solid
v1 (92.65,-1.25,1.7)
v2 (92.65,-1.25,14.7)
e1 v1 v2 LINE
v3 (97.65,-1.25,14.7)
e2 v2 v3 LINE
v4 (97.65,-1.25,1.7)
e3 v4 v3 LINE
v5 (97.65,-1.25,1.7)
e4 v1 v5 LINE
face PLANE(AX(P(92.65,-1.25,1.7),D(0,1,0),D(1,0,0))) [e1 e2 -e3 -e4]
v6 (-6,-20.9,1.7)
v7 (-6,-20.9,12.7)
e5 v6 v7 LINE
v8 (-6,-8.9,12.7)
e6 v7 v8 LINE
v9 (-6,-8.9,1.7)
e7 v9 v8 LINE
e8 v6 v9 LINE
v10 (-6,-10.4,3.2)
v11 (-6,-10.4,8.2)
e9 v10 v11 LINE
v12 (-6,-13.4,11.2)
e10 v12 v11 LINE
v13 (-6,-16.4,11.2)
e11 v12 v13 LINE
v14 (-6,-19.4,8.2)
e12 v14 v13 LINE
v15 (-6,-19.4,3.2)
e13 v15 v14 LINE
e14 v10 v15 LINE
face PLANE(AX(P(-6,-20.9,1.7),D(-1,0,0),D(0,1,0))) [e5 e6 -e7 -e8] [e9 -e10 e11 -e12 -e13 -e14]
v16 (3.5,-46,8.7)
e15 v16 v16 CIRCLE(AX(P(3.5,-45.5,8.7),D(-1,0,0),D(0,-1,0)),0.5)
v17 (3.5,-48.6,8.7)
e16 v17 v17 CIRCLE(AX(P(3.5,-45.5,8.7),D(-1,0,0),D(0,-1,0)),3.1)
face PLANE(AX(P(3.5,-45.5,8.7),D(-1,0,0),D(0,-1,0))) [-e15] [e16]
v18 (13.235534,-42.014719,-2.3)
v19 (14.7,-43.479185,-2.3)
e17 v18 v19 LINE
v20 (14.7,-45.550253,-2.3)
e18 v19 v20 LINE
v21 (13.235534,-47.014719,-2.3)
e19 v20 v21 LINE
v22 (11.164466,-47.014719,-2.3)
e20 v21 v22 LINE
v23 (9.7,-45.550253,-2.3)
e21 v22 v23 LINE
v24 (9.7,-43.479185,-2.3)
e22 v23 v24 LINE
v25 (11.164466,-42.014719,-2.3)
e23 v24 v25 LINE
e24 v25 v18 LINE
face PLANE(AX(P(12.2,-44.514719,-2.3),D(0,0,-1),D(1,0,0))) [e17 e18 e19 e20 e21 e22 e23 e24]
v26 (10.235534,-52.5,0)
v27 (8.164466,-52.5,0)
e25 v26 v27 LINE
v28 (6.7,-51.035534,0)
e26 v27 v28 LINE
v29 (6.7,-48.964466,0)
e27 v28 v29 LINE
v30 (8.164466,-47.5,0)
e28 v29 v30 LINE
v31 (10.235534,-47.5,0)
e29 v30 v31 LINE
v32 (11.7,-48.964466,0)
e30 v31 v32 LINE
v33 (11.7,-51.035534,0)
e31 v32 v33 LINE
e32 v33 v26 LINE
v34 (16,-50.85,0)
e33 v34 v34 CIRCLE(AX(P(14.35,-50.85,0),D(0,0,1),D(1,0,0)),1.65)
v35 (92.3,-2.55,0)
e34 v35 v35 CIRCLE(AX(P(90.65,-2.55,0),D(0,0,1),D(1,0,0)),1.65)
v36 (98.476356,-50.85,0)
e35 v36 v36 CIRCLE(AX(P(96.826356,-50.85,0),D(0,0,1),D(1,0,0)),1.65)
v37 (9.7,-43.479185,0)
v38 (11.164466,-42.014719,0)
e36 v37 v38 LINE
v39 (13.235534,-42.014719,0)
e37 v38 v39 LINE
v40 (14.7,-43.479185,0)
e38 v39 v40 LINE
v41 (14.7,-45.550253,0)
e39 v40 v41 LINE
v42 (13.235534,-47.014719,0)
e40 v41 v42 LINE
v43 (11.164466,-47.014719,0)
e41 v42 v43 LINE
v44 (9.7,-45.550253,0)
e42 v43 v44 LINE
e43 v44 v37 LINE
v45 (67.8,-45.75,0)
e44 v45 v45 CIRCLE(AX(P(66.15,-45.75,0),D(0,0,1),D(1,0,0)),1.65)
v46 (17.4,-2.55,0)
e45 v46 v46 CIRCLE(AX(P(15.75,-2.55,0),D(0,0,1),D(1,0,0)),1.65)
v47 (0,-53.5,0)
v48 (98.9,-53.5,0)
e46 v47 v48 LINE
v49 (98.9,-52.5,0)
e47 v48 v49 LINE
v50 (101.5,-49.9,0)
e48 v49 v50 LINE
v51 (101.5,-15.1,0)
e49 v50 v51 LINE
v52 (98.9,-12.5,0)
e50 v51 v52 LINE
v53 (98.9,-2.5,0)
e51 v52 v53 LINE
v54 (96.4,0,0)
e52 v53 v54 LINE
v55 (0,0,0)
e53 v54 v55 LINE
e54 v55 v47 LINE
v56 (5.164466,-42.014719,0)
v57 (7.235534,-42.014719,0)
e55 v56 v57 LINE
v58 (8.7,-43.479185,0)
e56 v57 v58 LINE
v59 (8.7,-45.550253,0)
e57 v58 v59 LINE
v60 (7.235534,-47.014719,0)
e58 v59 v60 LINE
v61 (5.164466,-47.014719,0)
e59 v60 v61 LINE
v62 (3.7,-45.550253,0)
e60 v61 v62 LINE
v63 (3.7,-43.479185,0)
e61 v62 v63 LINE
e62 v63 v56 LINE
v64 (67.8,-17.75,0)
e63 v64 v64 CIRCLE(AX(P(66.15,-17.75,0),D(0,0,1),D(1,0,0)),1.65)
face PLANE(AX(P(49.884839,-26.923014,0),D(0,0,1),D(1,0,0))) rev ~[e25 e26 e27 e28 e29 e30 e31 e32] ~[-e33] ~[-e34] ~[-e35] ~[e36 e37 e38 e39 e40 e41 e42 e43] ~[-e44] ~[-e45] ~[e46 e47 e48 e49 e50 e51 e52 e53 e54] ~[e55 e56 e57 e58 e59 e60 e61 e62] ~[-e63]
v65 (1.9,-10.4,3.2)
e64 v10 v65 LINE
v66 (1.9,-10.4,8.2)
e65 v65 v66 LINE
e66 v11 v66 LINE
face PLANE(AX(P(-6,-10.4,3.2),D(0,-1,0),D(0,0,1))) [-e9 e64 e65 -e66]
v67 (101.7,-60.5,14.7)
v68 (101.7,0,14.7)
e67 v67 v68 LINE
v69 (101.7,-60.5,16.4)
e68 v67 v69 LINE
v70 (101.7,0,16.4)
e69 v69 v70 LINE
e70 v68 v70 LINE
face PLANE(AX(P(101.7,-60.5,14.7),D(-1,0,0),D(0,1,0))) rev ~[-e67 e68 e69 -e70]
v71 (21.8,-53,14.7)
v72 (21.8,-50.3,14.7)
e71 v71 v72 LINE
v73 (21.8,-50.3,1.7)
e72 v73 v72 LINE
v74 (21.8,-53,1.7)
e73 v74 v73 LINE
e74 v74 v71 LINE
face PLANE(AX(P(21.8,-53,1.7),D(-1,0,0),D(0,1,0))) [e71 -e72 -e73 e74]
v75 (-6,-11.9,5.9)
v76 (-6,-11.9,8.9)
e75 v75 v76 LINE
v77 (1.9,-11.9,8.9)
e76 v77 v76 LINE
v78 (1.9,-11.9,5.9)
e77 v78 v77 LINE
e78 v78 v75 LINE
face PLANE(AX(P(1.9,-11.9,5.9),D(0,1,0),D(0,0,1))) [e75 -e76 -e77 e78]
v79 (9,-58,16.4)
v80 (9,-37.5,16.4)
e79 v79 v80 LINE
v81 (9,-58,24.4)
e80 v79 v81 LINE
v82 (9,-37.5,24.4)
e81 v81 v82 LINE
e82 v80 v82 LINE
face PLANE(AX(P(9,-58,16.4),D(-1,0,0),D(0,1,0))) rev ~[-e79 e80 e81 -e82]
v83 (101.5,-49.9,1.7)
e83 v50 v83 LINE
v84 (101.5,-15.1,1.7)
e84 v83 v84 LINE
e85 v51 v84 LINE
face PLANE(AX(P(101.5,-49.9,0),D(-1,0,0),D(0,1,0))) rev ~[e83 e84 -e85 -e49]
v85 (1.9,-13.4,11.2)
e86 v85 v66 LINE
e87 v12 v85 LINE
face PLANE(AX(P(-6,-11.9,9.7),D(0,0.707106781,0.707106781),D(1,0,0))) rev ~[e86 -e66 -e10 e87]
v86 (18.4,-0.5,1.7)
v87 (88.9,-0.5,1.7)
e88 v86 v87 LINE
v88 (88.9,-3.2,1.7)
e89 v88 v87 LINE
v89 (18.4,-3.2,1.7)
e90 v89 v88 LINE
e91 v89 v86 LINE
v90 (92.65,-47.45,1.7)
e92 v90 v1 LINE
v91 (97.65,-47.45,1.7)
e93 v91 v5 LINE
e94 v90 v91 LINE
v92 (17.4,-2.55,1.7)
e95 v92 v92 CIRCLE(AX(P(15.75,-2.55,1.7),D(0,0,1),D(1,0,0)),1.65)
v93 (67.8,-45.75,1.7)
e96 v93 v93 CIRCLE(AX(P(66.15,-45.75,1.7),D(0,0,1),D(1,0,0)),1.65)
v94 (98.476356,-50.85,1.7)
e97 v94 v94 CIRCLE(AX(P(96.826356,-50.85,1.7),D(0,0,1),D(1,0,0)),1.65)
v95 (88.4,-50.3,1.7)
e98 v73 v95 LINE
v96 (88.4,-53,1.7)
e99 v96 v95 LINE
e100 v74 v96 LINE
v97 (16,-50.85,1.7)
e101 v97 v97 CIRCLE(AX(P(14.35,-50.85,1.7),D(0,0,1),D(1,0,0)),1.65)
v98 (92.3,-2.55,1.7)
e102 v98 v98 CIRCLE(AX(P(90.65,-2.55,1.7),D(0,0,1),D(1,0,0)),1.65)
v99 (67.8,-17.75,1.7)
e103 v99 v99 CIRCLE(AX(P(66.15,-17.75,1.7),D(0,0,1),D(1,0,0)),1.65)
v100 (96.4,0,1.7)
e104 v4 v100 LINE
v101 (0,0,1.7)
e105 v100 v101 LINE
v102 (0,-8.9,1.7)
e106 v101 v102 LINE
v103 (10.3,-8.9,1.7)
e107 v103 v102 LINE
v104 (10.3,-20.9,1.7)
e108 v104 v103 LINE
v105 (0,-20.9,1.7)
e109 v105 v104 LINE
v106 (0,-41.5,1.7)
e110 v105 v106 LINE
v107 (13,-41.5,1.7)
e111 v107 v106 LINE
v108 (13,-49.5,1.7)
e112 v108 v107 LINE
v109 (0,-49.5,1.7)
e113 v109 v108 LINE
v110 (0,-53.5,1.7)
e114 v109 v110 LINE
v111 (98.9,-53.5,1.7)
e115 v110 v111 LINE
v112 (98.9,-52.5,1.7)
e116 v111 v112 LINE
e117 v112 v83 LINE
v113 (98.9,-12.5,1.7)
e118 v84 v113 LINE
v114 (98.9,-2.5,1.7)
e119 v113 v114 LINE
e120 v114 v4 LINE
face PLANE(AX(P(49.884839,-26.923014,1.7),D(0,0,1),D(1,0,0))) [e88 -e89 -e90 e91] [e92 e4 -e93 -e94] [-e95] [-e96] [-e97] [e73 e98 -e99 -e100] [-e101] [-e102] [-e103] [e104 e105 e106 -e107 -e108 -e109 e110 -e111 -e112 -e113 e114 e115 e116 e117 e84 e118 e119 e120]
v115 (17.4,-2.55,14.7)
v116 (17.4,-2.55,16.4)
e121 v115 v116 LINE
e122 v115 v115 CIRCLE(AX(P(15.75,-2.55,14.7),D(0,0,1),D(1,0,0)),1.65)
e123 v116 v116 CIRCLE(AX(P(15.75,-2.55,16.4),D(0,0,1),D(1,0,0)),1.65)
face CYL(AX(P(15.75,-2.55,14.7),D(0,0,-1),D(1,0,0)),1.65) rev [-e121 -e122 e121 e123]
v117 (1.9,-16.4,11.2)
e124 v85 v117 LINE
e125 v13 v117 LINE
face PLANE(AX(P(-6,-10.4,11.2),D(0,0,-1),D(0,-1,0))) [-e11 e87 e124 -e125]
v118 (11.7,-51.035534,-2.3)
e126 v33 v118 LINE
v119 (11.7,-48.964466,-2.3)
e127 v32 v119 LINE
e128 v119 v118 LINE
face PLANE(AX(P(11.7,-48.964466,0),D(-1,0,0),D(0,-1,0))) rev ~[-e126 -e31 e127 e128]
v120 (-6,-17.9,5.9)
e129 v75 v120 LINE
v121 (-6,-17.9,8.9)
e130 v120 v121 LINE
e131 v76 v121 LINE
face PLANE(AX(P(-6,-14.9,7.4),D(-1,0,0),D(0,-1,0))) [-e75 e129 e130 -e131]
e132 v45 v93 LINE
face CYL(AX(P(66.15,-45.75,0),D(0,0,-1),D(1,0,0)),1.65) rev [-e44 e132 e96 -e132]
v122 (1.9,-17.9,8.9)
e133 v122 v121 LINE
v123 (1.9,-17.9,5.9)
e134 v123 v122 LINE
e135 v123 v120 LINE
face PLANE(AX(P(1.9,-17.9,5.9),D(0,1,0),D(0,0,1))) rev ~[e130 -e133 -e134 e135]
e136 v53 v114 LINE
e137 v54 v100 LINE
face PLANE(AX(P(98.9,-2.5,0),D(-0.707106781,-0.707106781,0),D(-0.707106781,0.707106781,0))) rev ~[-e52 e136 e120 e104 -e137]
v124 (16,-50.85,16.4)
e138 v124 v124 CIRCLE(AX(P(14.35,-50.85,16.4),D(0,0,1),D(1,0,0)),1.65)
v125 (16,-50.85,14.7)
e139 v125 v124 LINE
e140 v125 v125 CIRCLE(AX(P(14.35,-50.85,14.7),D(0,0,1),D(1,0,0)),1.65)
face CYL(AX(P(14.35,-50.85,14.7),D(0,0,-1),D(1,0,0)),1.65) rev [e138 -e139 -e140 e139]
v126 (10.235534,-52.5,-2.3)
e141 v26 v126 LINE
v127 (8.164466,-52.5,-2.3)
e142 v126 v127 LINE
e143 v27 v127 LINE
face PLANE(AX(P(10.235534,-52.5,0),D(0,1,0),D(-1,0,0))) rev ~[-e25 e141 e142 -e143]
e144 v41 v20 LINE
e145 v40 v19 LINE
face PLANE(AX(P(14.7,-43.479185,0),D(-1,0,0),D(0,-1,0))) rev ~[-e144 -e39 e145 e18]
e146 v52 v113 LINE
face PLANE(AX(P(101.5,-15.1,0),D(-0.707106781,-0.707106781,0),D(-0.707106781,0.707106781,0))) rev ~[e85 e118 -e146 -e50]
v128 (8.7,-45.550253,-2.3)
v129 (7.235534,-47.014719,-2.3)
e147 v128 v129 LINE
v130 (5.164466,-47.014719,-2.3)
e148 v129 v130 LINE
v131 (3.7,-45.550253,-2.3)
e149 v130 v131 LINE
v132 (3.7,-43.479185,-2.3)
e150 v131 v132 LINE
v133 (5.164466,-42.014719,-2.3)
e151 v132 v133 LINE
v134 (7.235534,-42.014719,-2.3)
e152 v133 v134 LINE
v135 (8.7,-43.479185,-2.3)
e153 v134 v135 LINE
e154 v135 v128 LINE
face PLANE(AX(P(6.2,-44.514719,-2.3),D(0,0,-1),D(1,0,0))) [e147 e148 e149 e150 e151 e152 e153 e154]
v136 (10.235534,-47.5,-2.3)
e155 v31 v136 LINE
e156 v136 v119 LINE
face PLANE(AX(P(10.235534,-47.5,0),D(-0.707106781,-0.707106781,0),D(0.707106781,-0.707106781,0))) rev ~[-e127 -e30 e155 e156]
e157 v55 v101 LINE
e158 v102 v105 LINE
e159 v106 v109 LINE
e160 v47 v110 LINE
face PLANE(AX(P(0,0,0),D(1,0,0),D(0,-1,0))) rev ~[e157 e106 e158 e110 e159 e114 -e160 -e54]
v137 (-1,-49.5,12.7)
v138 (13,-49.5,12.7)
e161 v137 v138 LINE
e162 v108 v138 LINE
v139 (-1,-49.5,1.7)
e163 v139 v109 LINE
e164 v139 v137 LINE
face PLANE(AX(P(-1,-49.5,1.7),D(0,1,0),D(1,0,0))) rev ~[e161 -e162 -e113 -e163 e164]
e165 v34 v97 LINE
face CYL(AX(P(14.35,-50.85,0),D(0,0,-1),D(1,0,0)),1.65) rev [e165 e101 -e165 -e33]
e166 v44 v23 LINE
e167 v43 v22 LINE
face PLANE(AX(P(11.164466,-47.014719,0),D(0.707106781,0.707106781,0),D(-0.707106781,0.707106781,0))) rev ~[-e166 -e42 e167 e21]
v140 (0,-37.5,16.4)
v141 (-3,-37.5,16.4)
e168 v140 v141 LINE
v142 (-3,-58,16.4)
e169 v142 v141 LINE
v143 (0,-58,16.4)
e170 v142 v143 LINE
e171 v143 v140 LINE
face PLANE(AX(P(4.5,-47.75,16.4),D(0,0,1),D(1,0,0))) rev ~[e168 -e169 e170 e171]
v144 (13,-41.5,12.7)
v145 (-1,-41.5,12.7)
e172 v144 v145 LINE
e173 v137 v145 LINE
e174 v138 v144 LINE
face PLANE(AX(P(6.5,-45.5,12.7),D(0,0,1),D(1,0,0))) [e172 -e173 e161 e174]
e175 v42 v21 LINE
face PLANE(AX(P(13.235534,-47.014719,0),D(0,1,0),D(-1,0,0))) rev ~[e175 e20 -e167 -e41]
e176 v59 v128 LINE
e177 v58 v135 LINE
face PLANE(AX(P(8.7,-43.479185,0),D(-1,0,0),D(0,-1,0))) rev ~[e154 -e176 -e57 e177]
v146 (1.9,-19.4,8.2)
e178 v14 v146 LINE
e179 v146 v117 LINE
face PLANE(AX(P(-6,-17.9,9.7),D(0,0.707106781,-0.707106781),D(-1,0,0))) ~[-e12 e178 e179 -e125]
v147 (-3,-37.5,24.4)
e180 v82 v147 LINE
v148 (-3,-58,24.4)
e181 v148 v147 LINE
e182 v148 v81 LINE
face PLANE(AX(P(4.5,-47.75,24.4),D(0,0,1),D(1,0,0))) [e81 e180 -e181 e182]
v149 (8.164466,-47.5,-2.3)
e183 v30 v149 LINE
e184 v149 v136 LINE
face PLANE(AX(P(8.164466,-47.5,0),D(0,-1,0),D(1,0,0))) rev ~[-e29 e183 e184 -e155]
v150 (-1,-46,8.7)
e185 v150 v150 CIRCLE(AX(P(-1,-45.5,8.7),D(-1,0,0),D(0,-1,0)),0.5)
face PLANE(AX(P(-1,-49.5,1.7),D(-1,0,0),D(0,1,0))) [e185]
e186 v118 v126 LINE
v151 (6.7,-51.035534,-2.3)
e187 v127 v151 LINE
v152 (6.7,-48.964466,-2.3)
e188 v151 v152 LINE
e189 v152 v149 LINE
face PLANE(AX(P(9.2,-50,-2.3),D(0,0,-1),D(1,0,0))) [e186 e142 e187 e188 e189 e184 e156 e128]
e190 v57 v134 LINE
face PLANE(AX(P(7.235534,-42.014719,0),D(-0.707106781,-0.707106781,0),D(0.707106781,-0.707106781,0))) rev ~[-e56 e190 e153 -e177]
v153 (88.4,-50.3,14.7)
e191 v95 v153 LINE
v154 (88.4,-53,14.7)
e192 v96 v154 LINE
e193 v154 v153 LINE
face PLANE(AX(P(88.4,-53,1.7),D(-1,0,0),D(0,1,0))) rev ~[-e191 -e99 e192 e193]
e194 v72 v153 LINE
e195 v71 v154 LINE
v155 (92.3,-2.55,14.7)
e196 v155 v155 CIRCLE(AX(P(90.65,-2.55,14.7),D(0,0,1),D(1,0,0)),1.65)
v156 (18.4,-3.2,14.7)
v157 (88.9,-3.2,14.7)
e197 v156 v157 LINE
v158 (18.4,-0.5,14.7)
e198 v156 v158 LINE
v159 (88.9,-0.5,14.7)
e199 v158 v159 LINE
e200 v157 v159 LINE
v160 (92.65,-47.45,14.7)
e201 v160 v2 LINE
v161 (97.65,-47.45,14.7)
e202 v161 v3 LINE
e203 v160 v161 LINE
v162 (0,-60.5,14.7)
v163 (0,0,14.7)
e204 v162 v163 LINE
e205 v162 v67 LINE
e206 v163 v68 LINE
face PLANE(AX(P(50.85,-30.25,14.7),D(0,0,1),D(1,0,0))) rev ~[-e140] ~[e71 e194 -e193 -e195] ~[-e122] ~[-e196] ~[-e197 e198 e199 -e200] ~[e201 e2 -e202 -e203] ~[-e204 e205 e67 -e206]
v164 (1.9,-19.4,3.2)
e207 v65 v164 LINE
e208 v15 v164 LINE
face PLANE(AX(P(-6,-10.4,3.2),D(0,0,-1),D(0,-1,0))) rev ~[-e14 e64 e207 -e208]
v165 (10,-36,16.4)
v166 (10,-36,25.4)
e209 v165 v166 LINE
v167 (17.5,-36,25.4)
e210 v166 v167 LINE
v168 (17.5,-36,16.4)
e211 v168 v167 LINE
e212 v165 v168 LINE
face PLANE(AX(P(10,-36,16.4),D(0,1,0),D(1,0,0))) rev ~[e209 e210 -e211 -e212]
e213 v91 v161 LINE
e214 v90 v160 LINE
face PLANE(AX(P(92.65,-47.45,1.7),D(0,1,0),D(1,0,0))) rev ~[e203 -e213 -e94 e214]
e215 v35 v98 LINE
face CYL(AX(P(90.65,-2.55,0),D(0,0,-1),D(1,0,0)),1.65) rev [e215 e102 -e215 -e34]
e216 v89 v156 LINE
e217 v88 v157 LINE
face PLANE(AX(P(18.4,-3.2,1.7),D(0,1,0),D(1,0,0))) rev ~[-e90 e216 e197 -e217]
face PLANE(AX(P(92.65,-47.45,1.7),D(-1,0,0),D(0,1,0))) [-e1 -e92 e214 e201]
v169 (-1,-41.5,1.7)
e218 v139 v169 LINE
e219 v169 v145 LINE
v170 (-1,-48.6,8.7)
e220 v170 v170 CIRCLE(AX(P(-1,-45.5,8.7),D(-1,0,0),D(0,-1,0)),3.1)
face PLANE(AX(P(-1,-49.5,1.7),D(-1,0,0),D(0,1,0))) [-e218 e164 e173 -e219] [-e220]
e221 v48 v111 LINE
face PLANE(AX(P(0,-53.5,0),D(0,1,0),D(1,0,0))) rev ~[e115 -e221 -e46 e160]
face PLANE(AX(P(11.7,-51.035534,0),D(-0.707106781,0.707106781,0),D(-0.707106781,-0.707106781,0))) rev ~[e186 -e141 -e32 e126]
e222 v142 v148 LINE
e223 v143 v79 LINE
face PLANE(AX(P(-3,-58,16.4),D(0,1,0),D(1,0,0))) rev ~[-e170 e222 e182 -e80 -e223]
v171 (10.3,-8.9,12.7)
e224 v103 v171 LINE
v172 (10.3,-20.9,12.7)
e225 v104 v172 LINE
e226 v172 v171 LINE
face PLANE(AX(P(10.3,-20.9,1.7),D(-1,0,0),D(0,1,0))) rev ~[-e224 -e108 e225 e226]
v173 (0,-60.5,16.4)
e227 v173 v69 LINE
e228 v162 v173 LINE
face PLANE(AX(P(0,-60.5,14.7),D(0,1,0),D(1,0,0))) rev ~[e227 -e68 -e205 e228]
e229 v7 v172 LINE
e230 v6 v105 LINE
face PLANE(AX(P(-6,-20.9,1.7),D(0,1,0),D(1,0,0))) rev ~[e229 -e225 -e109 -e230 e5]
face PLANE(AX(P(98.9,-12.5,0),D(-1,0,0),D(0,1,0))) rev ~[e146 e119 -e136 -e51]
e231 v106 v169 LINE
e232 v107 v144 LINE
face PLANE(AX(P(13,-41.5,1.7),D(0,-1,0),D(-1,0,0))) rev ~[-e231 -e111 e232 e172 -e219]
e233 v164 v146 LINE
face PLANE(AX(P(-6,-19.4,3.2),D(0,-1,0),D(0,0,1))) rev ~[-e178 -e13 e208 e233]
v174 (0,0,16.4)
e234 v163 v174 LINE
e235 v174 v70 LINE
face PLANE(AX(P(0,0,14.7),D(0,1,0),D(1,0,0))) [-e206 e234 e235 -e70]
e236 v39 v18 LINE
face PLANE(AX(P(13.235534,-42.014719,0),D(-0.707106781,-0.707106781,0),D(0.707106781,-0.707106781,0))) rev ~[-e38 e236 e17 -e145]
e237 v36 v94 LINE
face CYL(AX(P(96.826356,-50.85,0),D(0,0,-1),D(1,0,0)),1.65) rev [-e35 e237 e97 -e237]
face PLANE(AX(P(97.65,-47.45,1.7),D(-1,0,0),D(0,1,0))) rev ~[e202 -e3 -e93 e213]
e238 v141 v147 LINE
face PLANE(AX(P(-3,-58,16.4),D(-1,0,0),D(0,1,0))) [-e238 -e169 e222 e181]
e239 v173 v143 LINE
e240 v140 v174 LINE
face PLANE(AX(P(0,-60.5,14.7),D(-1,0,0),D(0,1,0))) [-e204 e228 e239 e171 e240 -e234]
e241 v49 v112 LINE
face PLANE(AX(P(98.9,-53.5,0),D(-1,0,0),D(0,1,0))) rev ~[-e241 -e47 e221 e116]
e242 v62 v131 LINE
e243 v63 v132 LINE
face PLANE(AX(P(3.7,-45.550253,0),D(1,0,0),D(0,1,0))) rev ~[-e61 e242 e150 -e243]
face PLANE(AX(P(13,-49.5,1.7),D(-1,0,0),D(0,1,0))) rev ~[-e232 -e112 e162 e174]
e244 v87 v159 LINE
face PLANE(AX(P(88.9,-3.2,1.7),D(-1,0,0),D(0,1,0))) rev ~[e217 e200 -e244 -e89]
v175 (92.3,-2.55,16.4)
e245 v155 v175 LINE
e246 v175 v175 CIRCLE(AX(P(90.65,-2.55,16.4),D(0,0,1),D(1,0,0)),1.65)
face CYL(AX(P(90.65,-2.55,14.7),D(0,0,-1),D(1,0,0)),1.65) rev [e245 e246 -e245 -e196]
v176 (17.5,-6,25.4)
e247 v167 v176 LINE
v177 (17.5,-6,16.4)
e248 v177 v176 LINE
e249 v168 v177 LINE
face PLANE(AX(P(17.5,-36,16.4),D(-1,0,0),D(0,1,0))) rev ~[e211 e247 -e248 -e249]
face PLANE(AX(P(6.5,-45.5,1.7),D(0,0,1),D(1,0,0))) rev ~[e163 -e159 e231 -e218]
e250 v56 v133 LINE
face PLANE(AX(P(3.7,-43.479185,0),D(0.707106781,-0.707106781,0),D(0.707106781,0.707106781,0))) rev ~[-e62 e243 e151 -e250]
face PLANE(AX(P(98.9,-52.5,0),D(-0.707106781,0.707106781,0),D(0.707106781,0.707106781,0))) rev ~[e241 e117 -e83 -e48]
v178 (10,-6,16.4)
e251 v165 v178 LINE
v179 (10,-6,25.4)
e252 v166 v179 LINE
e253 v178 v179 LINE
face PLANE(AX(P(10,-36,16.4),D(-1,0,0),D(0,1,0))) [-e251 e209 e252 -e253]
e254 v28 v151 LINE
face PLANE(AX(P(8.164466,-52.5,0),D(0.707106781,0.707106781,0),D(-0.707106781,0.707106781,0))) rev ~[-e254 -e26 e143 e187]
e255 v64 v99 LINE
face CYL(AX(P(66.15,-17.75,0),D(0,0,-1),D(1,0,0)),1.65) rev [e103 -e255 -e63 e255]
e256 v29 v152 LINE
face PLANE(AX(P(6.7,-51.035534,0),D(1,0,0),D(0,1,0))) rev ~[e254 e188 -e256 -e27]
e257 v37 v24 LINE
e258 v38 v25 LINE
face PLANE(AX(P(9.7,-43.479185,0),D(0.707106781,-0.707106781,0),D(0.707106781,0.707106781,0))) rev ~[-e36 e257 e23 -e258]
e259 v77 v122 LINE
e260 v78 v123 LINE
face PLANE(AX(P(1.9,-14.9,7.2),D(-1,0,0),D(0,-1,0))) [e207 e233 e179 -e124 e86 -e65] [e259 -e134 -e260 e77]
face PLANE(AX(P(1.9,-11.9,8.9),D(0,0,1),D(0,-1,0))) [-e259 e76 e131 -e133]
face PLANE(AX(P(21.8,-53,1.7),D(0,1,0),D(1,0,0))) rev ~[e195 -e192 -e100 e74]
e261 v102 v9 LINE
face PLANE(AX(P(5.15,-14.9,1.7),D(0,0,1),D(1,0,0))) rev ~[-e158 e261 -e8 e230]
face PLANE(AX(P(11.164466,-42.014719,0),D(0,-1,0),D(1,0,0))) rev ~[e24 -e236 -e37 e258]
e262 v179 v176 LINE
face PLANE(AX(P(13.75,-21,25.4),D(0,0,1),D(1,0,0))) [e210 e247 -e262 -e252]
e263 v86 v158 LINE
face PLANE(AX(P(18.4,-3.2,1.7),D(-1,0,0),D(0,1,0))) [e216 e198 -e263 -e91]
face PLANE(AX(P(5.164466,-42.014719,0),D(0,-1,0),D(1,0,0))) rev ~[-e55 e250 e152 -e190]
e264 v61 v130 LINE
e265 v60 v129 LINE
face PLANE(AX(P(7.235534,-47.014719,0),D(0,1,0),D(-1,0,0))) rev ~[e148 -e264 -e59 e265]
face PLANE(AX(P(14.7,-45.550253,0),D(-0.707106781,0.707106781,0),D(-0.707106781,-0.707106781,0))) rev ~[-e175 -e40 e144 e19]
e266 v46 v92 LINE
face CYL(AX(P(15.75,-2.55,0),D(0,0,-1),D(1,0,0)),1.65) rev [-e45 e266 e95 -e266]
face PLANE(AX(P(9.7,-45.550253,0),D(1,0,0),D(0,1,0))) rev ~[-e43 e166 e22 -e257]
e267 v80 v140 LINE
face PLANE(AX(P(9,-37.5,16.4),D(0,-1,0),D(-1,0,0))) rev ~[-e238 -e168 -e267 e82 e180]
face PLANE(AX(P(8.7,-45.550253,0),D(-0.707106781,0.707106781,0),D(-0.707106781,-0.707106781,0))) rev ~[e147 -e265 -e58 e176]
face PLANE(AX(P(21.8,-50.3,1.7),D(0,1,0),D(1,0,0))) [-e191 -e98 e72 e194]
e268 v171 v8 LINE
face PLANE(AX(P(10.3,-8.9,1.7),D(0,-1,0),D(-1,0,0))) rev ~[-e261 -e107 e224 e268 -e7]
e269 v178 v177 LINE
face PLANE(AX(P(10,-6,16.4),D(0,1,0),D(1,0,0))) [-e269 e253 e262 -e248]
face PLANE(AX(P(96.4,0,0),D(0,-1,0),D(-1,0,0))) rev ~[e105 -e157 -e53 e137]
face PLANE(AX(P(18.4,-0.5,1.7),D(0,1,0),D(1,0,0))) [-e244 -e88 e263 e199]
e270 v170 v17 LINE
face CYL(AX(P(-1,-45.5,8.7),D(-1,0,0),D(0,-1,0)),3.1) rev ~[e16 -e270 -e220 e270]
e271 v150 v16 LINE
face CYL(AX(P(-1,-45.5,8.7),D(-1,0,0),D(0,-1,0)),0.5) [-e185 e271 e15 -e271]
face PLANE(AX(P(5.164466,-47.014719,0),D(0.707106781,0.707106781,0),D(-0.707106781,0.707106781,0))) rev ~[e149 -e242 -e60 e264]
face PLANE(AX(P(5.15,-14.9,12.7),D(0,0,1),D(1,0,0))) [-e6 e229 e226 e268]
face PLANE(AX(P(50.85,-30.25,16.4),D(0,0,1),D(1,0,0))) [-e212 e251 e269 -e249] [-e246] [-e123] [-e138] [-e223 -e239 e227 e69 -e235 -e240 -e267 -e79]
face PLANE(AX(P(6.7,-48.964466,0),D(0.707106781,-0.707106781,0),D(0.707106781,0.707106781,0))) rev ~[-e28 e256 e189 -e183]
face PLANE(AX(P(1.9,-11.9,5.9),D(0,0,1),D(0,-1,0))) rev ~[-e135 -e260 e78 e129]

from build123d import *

# Parameters (mm, degrees)
F0_R      = 1.65
F1_DEPTH  = 1.7
F3_DEPTH  = 2.3
F4_W      = 66.6
F4_H      = 2.7
F4_W_2    = 70.5
F4_W_3    = 5
F4_H_2    = 46.2
F5_DEPTH  = 13
F4_W_4    = 10.3
F4_H_3    = 12
F4_W_5    = 6
F6_DEPTH  = 11
F4_W_6    = 13
F4_H_4    = 8
F4_W_7    = 1
F7_DEPTH  = 11
F8_W      = 9
F8_H      = 8
F9_DEPTH  = 7.9
F10_R     = 3.1
F10_R_2   = 0.5
F11_DEPTH = 4.5
F12_SIZE  = 3
F13_W     = 6
F13_H     = 3
F14_DEPTH = 7.9
F16_W     = 101.7
F16_H     = 60.5
F16_R     = 1.65
F17_DEPTH = 1.7
F18_W     = 7.5
F18_H     = 30
F19_DEPTH = 9
F18_W_2   = 9
F18_H_2   = 20.5
F18_W_3   = 3
F20_DEPTH = 8


with BuildPart() as f1:
    # F0 (on Top) → F1 (new body)
    with BuildSketch(Plane.XY):
        Polygon((96.4, 0), (0, 0), (0, -8.9), (0, -20.9), (0, -40.5), (0, -49.5), (0, -53.5), (98.9, -53.5), (98.9, -52.5), (101.5, -49.9), (101.5, -15.1), (98.9, -12.5), (98.9, -2.5), align=None)
        with Locations((14.35, -50.85)):
            Circle(F0_R, mode=Mode.SUBTRACT)
        with Locations((66.15, -45.75)):
            Circle(F0_R, mode=Mode.SUBTRACT)
        with Locations((96.8263558647, -50.85)):
            Circle(F0_R, mode=Mode.SUBTRACT)
        with Locations((15.75, -2.55)):
            Circle(F0_R, mode=Mode.SUBTRACT)
        with Locations((66.15, -17.75)):
            Circle(F0_R, mode=Mode.SUBTRACT)
        with Locations((90.65, -2.55)):
            Circle(F0_R, mode=Mode.SUBTRACT)
    extrude(amount=F1_DEPTH)

    # F2 (on face) → F3 (join)
    with BuildSketch(Plane(origin=(0, 0, 0), x_dir=(1, 0, 0), z_dir=(0, 0, -1))):
        Polygon((10.2355339059, 52.5), (8.1644660941, 52.5), (6.7, 51.0355339059), (6.7, 48.9644660941), (8.1644660941, 47.5), (10.2355339059, 47.5), (11.7, 48.9644660941), (11.7, 51.0355339059), align=None)
        Polygon((7.2355339059, 47.0147186258), (5.1644660941, 47.0147186258), (3.7, 45.5502525317), (3.7, 43.4791847198), (5.1644660941, 42.0147186258), (7.2355339059, 42.0147186258), (8.7, 43.4791847198), (8.7, 45.5502525317), align=None)
        Polygon((13.2355339059, 47.0147186258), (11.1644660941, 47.0147186258), (9.7, 45.5502525317), (9.7, 43.4791847198), (11.1644660941, 42.0147186258), (13.2355339059, 42.0147186258), (14.7, 43.4791847198), (14.7, 45.5502525317), align=None)
    extrude(amount=F3_DEPTH)

    # F4 (on face) → F5 (join)
    with BuildSketch(Plane.XY.offset(1.7)):
        with Locations((55.1, -51.65)):
            Rectangle(F4_W, F4_H)
        with Locations((53.65, -1.85)):
            Rectangle(F4_W_2, F4_H)
        with Locations((95.15, -24.35)):
            Rectangle(F4_W_3, F4_H_2)
    extrude(amount=F5_DEPTH)

    # F4 (on face) → F6 (join)
    with BuildSketch(Plane.XY.offset(1.7)):
        with Locations((5.15, -14.9)):
            Rectangle(F4_W_4, F4_H_3)
        with Locations((-3, -14.9)):
            Rectangle(F4_W_5, F4_H_3)
    extrude(amount=F6_DEPTH)

    # F4 (on face) → F7 (join)
    with BuildSketch(Plane.XY.offset(1.7)):
        with Locations((6.5, -45.5)):
            Rectangle(F4_W_6, F4_H_4)
        with Locations((-0.5, -45.5)):
            Rectangle(F4_W_7, F4_H_4)
    extrude(amount=F7_DEPTH)

    # F8 (on face) → F9 (cut)
    with BuildSketch(Plane(origin=(-6, 0, 0), x_dir=(0, -1, 0), z_dir=(-1, 0, 0))):
        with Locations((14.9, 7.2)):
            Rectangle(F8_W, F8_H)
    extrude(amount=-F9_DEPTH, mode=Mode.SUBTRACT)

    # F10 (on face) → F11 (cut)
    with BuildSketch(Plane(origin=(-1, 0, 0), x_dir=(0, -1, 0), z_dir=(-1, 0, 0))):
        with Locations((45.5, 8.7)):
            Circle(F10_R)
        with Locations((45.5, 8.7)):
            Circle(F10_R_2, mode=Mode.SUBTRACT)
    extrude(amount=-F11_DEPTH, mode=Mode.SUBTRACT)

    # F12
    f12_edges = [f1.edges().sort_by_distance(p)[0] for p in [
        (-2.05, -10.4, 11.2),
        (-2.05, -19.4, 11.2),
    ]]
    chamfer(f12_edges, length=F12_SIZE)

    # F13 (on face) → F14 (join, through all)
    with BuildSketch(Plane(origin=(1.9, 0, 0), x_dir=(0, -1, 0), z_dir=(-1, 0, 0))):
        with Locations((14.9, 7.4)):
            Rectangle(F13_W, F13_H)
    extrude(amount=F14_DEPTH)

    # F16 (on offset) → F17 (join)
    with BuildSketch(Plane.XY.offset(14.7)):
        with Locations((50.85, -30.25)):
            Rectangle(F16_W, F16_H)
        with Locations((14.35, -50.85)):
            Circle(F16_R, mode=Mode.SUBTRACT)
        with Locations((15.75, -2.55)):
            Circle(F16_R, mode=Mode.SUBTRACT)
        with Locations((90.65, -2.55)):
            Circle(F16_R, mode=Mode.SUBTRACT)
    extrude(amount=F17_DEPTH)

    # F18 (on face) → F19 (join)
    with BuildSketch(Plane.XY.offset(16.4)):
        with Locations((13.75, -21)):
            Rectangle(F18_W, F18_H)
    extrude(amount=F19_DEPTH)

    # F18 (on face) → F20 (join)
    with BuildSketch(Plane.XY.offset(16.4)):
        with Locations((4.5, -47.75)):
            Rectangle(F18_W_2, F18_H_2)
        with Locations((-1.5, -47.75)):
            Rectangle(F18_W_3, F18_H_2)
    extrude(amount=F20_DEPTH)


solid = f1.part
